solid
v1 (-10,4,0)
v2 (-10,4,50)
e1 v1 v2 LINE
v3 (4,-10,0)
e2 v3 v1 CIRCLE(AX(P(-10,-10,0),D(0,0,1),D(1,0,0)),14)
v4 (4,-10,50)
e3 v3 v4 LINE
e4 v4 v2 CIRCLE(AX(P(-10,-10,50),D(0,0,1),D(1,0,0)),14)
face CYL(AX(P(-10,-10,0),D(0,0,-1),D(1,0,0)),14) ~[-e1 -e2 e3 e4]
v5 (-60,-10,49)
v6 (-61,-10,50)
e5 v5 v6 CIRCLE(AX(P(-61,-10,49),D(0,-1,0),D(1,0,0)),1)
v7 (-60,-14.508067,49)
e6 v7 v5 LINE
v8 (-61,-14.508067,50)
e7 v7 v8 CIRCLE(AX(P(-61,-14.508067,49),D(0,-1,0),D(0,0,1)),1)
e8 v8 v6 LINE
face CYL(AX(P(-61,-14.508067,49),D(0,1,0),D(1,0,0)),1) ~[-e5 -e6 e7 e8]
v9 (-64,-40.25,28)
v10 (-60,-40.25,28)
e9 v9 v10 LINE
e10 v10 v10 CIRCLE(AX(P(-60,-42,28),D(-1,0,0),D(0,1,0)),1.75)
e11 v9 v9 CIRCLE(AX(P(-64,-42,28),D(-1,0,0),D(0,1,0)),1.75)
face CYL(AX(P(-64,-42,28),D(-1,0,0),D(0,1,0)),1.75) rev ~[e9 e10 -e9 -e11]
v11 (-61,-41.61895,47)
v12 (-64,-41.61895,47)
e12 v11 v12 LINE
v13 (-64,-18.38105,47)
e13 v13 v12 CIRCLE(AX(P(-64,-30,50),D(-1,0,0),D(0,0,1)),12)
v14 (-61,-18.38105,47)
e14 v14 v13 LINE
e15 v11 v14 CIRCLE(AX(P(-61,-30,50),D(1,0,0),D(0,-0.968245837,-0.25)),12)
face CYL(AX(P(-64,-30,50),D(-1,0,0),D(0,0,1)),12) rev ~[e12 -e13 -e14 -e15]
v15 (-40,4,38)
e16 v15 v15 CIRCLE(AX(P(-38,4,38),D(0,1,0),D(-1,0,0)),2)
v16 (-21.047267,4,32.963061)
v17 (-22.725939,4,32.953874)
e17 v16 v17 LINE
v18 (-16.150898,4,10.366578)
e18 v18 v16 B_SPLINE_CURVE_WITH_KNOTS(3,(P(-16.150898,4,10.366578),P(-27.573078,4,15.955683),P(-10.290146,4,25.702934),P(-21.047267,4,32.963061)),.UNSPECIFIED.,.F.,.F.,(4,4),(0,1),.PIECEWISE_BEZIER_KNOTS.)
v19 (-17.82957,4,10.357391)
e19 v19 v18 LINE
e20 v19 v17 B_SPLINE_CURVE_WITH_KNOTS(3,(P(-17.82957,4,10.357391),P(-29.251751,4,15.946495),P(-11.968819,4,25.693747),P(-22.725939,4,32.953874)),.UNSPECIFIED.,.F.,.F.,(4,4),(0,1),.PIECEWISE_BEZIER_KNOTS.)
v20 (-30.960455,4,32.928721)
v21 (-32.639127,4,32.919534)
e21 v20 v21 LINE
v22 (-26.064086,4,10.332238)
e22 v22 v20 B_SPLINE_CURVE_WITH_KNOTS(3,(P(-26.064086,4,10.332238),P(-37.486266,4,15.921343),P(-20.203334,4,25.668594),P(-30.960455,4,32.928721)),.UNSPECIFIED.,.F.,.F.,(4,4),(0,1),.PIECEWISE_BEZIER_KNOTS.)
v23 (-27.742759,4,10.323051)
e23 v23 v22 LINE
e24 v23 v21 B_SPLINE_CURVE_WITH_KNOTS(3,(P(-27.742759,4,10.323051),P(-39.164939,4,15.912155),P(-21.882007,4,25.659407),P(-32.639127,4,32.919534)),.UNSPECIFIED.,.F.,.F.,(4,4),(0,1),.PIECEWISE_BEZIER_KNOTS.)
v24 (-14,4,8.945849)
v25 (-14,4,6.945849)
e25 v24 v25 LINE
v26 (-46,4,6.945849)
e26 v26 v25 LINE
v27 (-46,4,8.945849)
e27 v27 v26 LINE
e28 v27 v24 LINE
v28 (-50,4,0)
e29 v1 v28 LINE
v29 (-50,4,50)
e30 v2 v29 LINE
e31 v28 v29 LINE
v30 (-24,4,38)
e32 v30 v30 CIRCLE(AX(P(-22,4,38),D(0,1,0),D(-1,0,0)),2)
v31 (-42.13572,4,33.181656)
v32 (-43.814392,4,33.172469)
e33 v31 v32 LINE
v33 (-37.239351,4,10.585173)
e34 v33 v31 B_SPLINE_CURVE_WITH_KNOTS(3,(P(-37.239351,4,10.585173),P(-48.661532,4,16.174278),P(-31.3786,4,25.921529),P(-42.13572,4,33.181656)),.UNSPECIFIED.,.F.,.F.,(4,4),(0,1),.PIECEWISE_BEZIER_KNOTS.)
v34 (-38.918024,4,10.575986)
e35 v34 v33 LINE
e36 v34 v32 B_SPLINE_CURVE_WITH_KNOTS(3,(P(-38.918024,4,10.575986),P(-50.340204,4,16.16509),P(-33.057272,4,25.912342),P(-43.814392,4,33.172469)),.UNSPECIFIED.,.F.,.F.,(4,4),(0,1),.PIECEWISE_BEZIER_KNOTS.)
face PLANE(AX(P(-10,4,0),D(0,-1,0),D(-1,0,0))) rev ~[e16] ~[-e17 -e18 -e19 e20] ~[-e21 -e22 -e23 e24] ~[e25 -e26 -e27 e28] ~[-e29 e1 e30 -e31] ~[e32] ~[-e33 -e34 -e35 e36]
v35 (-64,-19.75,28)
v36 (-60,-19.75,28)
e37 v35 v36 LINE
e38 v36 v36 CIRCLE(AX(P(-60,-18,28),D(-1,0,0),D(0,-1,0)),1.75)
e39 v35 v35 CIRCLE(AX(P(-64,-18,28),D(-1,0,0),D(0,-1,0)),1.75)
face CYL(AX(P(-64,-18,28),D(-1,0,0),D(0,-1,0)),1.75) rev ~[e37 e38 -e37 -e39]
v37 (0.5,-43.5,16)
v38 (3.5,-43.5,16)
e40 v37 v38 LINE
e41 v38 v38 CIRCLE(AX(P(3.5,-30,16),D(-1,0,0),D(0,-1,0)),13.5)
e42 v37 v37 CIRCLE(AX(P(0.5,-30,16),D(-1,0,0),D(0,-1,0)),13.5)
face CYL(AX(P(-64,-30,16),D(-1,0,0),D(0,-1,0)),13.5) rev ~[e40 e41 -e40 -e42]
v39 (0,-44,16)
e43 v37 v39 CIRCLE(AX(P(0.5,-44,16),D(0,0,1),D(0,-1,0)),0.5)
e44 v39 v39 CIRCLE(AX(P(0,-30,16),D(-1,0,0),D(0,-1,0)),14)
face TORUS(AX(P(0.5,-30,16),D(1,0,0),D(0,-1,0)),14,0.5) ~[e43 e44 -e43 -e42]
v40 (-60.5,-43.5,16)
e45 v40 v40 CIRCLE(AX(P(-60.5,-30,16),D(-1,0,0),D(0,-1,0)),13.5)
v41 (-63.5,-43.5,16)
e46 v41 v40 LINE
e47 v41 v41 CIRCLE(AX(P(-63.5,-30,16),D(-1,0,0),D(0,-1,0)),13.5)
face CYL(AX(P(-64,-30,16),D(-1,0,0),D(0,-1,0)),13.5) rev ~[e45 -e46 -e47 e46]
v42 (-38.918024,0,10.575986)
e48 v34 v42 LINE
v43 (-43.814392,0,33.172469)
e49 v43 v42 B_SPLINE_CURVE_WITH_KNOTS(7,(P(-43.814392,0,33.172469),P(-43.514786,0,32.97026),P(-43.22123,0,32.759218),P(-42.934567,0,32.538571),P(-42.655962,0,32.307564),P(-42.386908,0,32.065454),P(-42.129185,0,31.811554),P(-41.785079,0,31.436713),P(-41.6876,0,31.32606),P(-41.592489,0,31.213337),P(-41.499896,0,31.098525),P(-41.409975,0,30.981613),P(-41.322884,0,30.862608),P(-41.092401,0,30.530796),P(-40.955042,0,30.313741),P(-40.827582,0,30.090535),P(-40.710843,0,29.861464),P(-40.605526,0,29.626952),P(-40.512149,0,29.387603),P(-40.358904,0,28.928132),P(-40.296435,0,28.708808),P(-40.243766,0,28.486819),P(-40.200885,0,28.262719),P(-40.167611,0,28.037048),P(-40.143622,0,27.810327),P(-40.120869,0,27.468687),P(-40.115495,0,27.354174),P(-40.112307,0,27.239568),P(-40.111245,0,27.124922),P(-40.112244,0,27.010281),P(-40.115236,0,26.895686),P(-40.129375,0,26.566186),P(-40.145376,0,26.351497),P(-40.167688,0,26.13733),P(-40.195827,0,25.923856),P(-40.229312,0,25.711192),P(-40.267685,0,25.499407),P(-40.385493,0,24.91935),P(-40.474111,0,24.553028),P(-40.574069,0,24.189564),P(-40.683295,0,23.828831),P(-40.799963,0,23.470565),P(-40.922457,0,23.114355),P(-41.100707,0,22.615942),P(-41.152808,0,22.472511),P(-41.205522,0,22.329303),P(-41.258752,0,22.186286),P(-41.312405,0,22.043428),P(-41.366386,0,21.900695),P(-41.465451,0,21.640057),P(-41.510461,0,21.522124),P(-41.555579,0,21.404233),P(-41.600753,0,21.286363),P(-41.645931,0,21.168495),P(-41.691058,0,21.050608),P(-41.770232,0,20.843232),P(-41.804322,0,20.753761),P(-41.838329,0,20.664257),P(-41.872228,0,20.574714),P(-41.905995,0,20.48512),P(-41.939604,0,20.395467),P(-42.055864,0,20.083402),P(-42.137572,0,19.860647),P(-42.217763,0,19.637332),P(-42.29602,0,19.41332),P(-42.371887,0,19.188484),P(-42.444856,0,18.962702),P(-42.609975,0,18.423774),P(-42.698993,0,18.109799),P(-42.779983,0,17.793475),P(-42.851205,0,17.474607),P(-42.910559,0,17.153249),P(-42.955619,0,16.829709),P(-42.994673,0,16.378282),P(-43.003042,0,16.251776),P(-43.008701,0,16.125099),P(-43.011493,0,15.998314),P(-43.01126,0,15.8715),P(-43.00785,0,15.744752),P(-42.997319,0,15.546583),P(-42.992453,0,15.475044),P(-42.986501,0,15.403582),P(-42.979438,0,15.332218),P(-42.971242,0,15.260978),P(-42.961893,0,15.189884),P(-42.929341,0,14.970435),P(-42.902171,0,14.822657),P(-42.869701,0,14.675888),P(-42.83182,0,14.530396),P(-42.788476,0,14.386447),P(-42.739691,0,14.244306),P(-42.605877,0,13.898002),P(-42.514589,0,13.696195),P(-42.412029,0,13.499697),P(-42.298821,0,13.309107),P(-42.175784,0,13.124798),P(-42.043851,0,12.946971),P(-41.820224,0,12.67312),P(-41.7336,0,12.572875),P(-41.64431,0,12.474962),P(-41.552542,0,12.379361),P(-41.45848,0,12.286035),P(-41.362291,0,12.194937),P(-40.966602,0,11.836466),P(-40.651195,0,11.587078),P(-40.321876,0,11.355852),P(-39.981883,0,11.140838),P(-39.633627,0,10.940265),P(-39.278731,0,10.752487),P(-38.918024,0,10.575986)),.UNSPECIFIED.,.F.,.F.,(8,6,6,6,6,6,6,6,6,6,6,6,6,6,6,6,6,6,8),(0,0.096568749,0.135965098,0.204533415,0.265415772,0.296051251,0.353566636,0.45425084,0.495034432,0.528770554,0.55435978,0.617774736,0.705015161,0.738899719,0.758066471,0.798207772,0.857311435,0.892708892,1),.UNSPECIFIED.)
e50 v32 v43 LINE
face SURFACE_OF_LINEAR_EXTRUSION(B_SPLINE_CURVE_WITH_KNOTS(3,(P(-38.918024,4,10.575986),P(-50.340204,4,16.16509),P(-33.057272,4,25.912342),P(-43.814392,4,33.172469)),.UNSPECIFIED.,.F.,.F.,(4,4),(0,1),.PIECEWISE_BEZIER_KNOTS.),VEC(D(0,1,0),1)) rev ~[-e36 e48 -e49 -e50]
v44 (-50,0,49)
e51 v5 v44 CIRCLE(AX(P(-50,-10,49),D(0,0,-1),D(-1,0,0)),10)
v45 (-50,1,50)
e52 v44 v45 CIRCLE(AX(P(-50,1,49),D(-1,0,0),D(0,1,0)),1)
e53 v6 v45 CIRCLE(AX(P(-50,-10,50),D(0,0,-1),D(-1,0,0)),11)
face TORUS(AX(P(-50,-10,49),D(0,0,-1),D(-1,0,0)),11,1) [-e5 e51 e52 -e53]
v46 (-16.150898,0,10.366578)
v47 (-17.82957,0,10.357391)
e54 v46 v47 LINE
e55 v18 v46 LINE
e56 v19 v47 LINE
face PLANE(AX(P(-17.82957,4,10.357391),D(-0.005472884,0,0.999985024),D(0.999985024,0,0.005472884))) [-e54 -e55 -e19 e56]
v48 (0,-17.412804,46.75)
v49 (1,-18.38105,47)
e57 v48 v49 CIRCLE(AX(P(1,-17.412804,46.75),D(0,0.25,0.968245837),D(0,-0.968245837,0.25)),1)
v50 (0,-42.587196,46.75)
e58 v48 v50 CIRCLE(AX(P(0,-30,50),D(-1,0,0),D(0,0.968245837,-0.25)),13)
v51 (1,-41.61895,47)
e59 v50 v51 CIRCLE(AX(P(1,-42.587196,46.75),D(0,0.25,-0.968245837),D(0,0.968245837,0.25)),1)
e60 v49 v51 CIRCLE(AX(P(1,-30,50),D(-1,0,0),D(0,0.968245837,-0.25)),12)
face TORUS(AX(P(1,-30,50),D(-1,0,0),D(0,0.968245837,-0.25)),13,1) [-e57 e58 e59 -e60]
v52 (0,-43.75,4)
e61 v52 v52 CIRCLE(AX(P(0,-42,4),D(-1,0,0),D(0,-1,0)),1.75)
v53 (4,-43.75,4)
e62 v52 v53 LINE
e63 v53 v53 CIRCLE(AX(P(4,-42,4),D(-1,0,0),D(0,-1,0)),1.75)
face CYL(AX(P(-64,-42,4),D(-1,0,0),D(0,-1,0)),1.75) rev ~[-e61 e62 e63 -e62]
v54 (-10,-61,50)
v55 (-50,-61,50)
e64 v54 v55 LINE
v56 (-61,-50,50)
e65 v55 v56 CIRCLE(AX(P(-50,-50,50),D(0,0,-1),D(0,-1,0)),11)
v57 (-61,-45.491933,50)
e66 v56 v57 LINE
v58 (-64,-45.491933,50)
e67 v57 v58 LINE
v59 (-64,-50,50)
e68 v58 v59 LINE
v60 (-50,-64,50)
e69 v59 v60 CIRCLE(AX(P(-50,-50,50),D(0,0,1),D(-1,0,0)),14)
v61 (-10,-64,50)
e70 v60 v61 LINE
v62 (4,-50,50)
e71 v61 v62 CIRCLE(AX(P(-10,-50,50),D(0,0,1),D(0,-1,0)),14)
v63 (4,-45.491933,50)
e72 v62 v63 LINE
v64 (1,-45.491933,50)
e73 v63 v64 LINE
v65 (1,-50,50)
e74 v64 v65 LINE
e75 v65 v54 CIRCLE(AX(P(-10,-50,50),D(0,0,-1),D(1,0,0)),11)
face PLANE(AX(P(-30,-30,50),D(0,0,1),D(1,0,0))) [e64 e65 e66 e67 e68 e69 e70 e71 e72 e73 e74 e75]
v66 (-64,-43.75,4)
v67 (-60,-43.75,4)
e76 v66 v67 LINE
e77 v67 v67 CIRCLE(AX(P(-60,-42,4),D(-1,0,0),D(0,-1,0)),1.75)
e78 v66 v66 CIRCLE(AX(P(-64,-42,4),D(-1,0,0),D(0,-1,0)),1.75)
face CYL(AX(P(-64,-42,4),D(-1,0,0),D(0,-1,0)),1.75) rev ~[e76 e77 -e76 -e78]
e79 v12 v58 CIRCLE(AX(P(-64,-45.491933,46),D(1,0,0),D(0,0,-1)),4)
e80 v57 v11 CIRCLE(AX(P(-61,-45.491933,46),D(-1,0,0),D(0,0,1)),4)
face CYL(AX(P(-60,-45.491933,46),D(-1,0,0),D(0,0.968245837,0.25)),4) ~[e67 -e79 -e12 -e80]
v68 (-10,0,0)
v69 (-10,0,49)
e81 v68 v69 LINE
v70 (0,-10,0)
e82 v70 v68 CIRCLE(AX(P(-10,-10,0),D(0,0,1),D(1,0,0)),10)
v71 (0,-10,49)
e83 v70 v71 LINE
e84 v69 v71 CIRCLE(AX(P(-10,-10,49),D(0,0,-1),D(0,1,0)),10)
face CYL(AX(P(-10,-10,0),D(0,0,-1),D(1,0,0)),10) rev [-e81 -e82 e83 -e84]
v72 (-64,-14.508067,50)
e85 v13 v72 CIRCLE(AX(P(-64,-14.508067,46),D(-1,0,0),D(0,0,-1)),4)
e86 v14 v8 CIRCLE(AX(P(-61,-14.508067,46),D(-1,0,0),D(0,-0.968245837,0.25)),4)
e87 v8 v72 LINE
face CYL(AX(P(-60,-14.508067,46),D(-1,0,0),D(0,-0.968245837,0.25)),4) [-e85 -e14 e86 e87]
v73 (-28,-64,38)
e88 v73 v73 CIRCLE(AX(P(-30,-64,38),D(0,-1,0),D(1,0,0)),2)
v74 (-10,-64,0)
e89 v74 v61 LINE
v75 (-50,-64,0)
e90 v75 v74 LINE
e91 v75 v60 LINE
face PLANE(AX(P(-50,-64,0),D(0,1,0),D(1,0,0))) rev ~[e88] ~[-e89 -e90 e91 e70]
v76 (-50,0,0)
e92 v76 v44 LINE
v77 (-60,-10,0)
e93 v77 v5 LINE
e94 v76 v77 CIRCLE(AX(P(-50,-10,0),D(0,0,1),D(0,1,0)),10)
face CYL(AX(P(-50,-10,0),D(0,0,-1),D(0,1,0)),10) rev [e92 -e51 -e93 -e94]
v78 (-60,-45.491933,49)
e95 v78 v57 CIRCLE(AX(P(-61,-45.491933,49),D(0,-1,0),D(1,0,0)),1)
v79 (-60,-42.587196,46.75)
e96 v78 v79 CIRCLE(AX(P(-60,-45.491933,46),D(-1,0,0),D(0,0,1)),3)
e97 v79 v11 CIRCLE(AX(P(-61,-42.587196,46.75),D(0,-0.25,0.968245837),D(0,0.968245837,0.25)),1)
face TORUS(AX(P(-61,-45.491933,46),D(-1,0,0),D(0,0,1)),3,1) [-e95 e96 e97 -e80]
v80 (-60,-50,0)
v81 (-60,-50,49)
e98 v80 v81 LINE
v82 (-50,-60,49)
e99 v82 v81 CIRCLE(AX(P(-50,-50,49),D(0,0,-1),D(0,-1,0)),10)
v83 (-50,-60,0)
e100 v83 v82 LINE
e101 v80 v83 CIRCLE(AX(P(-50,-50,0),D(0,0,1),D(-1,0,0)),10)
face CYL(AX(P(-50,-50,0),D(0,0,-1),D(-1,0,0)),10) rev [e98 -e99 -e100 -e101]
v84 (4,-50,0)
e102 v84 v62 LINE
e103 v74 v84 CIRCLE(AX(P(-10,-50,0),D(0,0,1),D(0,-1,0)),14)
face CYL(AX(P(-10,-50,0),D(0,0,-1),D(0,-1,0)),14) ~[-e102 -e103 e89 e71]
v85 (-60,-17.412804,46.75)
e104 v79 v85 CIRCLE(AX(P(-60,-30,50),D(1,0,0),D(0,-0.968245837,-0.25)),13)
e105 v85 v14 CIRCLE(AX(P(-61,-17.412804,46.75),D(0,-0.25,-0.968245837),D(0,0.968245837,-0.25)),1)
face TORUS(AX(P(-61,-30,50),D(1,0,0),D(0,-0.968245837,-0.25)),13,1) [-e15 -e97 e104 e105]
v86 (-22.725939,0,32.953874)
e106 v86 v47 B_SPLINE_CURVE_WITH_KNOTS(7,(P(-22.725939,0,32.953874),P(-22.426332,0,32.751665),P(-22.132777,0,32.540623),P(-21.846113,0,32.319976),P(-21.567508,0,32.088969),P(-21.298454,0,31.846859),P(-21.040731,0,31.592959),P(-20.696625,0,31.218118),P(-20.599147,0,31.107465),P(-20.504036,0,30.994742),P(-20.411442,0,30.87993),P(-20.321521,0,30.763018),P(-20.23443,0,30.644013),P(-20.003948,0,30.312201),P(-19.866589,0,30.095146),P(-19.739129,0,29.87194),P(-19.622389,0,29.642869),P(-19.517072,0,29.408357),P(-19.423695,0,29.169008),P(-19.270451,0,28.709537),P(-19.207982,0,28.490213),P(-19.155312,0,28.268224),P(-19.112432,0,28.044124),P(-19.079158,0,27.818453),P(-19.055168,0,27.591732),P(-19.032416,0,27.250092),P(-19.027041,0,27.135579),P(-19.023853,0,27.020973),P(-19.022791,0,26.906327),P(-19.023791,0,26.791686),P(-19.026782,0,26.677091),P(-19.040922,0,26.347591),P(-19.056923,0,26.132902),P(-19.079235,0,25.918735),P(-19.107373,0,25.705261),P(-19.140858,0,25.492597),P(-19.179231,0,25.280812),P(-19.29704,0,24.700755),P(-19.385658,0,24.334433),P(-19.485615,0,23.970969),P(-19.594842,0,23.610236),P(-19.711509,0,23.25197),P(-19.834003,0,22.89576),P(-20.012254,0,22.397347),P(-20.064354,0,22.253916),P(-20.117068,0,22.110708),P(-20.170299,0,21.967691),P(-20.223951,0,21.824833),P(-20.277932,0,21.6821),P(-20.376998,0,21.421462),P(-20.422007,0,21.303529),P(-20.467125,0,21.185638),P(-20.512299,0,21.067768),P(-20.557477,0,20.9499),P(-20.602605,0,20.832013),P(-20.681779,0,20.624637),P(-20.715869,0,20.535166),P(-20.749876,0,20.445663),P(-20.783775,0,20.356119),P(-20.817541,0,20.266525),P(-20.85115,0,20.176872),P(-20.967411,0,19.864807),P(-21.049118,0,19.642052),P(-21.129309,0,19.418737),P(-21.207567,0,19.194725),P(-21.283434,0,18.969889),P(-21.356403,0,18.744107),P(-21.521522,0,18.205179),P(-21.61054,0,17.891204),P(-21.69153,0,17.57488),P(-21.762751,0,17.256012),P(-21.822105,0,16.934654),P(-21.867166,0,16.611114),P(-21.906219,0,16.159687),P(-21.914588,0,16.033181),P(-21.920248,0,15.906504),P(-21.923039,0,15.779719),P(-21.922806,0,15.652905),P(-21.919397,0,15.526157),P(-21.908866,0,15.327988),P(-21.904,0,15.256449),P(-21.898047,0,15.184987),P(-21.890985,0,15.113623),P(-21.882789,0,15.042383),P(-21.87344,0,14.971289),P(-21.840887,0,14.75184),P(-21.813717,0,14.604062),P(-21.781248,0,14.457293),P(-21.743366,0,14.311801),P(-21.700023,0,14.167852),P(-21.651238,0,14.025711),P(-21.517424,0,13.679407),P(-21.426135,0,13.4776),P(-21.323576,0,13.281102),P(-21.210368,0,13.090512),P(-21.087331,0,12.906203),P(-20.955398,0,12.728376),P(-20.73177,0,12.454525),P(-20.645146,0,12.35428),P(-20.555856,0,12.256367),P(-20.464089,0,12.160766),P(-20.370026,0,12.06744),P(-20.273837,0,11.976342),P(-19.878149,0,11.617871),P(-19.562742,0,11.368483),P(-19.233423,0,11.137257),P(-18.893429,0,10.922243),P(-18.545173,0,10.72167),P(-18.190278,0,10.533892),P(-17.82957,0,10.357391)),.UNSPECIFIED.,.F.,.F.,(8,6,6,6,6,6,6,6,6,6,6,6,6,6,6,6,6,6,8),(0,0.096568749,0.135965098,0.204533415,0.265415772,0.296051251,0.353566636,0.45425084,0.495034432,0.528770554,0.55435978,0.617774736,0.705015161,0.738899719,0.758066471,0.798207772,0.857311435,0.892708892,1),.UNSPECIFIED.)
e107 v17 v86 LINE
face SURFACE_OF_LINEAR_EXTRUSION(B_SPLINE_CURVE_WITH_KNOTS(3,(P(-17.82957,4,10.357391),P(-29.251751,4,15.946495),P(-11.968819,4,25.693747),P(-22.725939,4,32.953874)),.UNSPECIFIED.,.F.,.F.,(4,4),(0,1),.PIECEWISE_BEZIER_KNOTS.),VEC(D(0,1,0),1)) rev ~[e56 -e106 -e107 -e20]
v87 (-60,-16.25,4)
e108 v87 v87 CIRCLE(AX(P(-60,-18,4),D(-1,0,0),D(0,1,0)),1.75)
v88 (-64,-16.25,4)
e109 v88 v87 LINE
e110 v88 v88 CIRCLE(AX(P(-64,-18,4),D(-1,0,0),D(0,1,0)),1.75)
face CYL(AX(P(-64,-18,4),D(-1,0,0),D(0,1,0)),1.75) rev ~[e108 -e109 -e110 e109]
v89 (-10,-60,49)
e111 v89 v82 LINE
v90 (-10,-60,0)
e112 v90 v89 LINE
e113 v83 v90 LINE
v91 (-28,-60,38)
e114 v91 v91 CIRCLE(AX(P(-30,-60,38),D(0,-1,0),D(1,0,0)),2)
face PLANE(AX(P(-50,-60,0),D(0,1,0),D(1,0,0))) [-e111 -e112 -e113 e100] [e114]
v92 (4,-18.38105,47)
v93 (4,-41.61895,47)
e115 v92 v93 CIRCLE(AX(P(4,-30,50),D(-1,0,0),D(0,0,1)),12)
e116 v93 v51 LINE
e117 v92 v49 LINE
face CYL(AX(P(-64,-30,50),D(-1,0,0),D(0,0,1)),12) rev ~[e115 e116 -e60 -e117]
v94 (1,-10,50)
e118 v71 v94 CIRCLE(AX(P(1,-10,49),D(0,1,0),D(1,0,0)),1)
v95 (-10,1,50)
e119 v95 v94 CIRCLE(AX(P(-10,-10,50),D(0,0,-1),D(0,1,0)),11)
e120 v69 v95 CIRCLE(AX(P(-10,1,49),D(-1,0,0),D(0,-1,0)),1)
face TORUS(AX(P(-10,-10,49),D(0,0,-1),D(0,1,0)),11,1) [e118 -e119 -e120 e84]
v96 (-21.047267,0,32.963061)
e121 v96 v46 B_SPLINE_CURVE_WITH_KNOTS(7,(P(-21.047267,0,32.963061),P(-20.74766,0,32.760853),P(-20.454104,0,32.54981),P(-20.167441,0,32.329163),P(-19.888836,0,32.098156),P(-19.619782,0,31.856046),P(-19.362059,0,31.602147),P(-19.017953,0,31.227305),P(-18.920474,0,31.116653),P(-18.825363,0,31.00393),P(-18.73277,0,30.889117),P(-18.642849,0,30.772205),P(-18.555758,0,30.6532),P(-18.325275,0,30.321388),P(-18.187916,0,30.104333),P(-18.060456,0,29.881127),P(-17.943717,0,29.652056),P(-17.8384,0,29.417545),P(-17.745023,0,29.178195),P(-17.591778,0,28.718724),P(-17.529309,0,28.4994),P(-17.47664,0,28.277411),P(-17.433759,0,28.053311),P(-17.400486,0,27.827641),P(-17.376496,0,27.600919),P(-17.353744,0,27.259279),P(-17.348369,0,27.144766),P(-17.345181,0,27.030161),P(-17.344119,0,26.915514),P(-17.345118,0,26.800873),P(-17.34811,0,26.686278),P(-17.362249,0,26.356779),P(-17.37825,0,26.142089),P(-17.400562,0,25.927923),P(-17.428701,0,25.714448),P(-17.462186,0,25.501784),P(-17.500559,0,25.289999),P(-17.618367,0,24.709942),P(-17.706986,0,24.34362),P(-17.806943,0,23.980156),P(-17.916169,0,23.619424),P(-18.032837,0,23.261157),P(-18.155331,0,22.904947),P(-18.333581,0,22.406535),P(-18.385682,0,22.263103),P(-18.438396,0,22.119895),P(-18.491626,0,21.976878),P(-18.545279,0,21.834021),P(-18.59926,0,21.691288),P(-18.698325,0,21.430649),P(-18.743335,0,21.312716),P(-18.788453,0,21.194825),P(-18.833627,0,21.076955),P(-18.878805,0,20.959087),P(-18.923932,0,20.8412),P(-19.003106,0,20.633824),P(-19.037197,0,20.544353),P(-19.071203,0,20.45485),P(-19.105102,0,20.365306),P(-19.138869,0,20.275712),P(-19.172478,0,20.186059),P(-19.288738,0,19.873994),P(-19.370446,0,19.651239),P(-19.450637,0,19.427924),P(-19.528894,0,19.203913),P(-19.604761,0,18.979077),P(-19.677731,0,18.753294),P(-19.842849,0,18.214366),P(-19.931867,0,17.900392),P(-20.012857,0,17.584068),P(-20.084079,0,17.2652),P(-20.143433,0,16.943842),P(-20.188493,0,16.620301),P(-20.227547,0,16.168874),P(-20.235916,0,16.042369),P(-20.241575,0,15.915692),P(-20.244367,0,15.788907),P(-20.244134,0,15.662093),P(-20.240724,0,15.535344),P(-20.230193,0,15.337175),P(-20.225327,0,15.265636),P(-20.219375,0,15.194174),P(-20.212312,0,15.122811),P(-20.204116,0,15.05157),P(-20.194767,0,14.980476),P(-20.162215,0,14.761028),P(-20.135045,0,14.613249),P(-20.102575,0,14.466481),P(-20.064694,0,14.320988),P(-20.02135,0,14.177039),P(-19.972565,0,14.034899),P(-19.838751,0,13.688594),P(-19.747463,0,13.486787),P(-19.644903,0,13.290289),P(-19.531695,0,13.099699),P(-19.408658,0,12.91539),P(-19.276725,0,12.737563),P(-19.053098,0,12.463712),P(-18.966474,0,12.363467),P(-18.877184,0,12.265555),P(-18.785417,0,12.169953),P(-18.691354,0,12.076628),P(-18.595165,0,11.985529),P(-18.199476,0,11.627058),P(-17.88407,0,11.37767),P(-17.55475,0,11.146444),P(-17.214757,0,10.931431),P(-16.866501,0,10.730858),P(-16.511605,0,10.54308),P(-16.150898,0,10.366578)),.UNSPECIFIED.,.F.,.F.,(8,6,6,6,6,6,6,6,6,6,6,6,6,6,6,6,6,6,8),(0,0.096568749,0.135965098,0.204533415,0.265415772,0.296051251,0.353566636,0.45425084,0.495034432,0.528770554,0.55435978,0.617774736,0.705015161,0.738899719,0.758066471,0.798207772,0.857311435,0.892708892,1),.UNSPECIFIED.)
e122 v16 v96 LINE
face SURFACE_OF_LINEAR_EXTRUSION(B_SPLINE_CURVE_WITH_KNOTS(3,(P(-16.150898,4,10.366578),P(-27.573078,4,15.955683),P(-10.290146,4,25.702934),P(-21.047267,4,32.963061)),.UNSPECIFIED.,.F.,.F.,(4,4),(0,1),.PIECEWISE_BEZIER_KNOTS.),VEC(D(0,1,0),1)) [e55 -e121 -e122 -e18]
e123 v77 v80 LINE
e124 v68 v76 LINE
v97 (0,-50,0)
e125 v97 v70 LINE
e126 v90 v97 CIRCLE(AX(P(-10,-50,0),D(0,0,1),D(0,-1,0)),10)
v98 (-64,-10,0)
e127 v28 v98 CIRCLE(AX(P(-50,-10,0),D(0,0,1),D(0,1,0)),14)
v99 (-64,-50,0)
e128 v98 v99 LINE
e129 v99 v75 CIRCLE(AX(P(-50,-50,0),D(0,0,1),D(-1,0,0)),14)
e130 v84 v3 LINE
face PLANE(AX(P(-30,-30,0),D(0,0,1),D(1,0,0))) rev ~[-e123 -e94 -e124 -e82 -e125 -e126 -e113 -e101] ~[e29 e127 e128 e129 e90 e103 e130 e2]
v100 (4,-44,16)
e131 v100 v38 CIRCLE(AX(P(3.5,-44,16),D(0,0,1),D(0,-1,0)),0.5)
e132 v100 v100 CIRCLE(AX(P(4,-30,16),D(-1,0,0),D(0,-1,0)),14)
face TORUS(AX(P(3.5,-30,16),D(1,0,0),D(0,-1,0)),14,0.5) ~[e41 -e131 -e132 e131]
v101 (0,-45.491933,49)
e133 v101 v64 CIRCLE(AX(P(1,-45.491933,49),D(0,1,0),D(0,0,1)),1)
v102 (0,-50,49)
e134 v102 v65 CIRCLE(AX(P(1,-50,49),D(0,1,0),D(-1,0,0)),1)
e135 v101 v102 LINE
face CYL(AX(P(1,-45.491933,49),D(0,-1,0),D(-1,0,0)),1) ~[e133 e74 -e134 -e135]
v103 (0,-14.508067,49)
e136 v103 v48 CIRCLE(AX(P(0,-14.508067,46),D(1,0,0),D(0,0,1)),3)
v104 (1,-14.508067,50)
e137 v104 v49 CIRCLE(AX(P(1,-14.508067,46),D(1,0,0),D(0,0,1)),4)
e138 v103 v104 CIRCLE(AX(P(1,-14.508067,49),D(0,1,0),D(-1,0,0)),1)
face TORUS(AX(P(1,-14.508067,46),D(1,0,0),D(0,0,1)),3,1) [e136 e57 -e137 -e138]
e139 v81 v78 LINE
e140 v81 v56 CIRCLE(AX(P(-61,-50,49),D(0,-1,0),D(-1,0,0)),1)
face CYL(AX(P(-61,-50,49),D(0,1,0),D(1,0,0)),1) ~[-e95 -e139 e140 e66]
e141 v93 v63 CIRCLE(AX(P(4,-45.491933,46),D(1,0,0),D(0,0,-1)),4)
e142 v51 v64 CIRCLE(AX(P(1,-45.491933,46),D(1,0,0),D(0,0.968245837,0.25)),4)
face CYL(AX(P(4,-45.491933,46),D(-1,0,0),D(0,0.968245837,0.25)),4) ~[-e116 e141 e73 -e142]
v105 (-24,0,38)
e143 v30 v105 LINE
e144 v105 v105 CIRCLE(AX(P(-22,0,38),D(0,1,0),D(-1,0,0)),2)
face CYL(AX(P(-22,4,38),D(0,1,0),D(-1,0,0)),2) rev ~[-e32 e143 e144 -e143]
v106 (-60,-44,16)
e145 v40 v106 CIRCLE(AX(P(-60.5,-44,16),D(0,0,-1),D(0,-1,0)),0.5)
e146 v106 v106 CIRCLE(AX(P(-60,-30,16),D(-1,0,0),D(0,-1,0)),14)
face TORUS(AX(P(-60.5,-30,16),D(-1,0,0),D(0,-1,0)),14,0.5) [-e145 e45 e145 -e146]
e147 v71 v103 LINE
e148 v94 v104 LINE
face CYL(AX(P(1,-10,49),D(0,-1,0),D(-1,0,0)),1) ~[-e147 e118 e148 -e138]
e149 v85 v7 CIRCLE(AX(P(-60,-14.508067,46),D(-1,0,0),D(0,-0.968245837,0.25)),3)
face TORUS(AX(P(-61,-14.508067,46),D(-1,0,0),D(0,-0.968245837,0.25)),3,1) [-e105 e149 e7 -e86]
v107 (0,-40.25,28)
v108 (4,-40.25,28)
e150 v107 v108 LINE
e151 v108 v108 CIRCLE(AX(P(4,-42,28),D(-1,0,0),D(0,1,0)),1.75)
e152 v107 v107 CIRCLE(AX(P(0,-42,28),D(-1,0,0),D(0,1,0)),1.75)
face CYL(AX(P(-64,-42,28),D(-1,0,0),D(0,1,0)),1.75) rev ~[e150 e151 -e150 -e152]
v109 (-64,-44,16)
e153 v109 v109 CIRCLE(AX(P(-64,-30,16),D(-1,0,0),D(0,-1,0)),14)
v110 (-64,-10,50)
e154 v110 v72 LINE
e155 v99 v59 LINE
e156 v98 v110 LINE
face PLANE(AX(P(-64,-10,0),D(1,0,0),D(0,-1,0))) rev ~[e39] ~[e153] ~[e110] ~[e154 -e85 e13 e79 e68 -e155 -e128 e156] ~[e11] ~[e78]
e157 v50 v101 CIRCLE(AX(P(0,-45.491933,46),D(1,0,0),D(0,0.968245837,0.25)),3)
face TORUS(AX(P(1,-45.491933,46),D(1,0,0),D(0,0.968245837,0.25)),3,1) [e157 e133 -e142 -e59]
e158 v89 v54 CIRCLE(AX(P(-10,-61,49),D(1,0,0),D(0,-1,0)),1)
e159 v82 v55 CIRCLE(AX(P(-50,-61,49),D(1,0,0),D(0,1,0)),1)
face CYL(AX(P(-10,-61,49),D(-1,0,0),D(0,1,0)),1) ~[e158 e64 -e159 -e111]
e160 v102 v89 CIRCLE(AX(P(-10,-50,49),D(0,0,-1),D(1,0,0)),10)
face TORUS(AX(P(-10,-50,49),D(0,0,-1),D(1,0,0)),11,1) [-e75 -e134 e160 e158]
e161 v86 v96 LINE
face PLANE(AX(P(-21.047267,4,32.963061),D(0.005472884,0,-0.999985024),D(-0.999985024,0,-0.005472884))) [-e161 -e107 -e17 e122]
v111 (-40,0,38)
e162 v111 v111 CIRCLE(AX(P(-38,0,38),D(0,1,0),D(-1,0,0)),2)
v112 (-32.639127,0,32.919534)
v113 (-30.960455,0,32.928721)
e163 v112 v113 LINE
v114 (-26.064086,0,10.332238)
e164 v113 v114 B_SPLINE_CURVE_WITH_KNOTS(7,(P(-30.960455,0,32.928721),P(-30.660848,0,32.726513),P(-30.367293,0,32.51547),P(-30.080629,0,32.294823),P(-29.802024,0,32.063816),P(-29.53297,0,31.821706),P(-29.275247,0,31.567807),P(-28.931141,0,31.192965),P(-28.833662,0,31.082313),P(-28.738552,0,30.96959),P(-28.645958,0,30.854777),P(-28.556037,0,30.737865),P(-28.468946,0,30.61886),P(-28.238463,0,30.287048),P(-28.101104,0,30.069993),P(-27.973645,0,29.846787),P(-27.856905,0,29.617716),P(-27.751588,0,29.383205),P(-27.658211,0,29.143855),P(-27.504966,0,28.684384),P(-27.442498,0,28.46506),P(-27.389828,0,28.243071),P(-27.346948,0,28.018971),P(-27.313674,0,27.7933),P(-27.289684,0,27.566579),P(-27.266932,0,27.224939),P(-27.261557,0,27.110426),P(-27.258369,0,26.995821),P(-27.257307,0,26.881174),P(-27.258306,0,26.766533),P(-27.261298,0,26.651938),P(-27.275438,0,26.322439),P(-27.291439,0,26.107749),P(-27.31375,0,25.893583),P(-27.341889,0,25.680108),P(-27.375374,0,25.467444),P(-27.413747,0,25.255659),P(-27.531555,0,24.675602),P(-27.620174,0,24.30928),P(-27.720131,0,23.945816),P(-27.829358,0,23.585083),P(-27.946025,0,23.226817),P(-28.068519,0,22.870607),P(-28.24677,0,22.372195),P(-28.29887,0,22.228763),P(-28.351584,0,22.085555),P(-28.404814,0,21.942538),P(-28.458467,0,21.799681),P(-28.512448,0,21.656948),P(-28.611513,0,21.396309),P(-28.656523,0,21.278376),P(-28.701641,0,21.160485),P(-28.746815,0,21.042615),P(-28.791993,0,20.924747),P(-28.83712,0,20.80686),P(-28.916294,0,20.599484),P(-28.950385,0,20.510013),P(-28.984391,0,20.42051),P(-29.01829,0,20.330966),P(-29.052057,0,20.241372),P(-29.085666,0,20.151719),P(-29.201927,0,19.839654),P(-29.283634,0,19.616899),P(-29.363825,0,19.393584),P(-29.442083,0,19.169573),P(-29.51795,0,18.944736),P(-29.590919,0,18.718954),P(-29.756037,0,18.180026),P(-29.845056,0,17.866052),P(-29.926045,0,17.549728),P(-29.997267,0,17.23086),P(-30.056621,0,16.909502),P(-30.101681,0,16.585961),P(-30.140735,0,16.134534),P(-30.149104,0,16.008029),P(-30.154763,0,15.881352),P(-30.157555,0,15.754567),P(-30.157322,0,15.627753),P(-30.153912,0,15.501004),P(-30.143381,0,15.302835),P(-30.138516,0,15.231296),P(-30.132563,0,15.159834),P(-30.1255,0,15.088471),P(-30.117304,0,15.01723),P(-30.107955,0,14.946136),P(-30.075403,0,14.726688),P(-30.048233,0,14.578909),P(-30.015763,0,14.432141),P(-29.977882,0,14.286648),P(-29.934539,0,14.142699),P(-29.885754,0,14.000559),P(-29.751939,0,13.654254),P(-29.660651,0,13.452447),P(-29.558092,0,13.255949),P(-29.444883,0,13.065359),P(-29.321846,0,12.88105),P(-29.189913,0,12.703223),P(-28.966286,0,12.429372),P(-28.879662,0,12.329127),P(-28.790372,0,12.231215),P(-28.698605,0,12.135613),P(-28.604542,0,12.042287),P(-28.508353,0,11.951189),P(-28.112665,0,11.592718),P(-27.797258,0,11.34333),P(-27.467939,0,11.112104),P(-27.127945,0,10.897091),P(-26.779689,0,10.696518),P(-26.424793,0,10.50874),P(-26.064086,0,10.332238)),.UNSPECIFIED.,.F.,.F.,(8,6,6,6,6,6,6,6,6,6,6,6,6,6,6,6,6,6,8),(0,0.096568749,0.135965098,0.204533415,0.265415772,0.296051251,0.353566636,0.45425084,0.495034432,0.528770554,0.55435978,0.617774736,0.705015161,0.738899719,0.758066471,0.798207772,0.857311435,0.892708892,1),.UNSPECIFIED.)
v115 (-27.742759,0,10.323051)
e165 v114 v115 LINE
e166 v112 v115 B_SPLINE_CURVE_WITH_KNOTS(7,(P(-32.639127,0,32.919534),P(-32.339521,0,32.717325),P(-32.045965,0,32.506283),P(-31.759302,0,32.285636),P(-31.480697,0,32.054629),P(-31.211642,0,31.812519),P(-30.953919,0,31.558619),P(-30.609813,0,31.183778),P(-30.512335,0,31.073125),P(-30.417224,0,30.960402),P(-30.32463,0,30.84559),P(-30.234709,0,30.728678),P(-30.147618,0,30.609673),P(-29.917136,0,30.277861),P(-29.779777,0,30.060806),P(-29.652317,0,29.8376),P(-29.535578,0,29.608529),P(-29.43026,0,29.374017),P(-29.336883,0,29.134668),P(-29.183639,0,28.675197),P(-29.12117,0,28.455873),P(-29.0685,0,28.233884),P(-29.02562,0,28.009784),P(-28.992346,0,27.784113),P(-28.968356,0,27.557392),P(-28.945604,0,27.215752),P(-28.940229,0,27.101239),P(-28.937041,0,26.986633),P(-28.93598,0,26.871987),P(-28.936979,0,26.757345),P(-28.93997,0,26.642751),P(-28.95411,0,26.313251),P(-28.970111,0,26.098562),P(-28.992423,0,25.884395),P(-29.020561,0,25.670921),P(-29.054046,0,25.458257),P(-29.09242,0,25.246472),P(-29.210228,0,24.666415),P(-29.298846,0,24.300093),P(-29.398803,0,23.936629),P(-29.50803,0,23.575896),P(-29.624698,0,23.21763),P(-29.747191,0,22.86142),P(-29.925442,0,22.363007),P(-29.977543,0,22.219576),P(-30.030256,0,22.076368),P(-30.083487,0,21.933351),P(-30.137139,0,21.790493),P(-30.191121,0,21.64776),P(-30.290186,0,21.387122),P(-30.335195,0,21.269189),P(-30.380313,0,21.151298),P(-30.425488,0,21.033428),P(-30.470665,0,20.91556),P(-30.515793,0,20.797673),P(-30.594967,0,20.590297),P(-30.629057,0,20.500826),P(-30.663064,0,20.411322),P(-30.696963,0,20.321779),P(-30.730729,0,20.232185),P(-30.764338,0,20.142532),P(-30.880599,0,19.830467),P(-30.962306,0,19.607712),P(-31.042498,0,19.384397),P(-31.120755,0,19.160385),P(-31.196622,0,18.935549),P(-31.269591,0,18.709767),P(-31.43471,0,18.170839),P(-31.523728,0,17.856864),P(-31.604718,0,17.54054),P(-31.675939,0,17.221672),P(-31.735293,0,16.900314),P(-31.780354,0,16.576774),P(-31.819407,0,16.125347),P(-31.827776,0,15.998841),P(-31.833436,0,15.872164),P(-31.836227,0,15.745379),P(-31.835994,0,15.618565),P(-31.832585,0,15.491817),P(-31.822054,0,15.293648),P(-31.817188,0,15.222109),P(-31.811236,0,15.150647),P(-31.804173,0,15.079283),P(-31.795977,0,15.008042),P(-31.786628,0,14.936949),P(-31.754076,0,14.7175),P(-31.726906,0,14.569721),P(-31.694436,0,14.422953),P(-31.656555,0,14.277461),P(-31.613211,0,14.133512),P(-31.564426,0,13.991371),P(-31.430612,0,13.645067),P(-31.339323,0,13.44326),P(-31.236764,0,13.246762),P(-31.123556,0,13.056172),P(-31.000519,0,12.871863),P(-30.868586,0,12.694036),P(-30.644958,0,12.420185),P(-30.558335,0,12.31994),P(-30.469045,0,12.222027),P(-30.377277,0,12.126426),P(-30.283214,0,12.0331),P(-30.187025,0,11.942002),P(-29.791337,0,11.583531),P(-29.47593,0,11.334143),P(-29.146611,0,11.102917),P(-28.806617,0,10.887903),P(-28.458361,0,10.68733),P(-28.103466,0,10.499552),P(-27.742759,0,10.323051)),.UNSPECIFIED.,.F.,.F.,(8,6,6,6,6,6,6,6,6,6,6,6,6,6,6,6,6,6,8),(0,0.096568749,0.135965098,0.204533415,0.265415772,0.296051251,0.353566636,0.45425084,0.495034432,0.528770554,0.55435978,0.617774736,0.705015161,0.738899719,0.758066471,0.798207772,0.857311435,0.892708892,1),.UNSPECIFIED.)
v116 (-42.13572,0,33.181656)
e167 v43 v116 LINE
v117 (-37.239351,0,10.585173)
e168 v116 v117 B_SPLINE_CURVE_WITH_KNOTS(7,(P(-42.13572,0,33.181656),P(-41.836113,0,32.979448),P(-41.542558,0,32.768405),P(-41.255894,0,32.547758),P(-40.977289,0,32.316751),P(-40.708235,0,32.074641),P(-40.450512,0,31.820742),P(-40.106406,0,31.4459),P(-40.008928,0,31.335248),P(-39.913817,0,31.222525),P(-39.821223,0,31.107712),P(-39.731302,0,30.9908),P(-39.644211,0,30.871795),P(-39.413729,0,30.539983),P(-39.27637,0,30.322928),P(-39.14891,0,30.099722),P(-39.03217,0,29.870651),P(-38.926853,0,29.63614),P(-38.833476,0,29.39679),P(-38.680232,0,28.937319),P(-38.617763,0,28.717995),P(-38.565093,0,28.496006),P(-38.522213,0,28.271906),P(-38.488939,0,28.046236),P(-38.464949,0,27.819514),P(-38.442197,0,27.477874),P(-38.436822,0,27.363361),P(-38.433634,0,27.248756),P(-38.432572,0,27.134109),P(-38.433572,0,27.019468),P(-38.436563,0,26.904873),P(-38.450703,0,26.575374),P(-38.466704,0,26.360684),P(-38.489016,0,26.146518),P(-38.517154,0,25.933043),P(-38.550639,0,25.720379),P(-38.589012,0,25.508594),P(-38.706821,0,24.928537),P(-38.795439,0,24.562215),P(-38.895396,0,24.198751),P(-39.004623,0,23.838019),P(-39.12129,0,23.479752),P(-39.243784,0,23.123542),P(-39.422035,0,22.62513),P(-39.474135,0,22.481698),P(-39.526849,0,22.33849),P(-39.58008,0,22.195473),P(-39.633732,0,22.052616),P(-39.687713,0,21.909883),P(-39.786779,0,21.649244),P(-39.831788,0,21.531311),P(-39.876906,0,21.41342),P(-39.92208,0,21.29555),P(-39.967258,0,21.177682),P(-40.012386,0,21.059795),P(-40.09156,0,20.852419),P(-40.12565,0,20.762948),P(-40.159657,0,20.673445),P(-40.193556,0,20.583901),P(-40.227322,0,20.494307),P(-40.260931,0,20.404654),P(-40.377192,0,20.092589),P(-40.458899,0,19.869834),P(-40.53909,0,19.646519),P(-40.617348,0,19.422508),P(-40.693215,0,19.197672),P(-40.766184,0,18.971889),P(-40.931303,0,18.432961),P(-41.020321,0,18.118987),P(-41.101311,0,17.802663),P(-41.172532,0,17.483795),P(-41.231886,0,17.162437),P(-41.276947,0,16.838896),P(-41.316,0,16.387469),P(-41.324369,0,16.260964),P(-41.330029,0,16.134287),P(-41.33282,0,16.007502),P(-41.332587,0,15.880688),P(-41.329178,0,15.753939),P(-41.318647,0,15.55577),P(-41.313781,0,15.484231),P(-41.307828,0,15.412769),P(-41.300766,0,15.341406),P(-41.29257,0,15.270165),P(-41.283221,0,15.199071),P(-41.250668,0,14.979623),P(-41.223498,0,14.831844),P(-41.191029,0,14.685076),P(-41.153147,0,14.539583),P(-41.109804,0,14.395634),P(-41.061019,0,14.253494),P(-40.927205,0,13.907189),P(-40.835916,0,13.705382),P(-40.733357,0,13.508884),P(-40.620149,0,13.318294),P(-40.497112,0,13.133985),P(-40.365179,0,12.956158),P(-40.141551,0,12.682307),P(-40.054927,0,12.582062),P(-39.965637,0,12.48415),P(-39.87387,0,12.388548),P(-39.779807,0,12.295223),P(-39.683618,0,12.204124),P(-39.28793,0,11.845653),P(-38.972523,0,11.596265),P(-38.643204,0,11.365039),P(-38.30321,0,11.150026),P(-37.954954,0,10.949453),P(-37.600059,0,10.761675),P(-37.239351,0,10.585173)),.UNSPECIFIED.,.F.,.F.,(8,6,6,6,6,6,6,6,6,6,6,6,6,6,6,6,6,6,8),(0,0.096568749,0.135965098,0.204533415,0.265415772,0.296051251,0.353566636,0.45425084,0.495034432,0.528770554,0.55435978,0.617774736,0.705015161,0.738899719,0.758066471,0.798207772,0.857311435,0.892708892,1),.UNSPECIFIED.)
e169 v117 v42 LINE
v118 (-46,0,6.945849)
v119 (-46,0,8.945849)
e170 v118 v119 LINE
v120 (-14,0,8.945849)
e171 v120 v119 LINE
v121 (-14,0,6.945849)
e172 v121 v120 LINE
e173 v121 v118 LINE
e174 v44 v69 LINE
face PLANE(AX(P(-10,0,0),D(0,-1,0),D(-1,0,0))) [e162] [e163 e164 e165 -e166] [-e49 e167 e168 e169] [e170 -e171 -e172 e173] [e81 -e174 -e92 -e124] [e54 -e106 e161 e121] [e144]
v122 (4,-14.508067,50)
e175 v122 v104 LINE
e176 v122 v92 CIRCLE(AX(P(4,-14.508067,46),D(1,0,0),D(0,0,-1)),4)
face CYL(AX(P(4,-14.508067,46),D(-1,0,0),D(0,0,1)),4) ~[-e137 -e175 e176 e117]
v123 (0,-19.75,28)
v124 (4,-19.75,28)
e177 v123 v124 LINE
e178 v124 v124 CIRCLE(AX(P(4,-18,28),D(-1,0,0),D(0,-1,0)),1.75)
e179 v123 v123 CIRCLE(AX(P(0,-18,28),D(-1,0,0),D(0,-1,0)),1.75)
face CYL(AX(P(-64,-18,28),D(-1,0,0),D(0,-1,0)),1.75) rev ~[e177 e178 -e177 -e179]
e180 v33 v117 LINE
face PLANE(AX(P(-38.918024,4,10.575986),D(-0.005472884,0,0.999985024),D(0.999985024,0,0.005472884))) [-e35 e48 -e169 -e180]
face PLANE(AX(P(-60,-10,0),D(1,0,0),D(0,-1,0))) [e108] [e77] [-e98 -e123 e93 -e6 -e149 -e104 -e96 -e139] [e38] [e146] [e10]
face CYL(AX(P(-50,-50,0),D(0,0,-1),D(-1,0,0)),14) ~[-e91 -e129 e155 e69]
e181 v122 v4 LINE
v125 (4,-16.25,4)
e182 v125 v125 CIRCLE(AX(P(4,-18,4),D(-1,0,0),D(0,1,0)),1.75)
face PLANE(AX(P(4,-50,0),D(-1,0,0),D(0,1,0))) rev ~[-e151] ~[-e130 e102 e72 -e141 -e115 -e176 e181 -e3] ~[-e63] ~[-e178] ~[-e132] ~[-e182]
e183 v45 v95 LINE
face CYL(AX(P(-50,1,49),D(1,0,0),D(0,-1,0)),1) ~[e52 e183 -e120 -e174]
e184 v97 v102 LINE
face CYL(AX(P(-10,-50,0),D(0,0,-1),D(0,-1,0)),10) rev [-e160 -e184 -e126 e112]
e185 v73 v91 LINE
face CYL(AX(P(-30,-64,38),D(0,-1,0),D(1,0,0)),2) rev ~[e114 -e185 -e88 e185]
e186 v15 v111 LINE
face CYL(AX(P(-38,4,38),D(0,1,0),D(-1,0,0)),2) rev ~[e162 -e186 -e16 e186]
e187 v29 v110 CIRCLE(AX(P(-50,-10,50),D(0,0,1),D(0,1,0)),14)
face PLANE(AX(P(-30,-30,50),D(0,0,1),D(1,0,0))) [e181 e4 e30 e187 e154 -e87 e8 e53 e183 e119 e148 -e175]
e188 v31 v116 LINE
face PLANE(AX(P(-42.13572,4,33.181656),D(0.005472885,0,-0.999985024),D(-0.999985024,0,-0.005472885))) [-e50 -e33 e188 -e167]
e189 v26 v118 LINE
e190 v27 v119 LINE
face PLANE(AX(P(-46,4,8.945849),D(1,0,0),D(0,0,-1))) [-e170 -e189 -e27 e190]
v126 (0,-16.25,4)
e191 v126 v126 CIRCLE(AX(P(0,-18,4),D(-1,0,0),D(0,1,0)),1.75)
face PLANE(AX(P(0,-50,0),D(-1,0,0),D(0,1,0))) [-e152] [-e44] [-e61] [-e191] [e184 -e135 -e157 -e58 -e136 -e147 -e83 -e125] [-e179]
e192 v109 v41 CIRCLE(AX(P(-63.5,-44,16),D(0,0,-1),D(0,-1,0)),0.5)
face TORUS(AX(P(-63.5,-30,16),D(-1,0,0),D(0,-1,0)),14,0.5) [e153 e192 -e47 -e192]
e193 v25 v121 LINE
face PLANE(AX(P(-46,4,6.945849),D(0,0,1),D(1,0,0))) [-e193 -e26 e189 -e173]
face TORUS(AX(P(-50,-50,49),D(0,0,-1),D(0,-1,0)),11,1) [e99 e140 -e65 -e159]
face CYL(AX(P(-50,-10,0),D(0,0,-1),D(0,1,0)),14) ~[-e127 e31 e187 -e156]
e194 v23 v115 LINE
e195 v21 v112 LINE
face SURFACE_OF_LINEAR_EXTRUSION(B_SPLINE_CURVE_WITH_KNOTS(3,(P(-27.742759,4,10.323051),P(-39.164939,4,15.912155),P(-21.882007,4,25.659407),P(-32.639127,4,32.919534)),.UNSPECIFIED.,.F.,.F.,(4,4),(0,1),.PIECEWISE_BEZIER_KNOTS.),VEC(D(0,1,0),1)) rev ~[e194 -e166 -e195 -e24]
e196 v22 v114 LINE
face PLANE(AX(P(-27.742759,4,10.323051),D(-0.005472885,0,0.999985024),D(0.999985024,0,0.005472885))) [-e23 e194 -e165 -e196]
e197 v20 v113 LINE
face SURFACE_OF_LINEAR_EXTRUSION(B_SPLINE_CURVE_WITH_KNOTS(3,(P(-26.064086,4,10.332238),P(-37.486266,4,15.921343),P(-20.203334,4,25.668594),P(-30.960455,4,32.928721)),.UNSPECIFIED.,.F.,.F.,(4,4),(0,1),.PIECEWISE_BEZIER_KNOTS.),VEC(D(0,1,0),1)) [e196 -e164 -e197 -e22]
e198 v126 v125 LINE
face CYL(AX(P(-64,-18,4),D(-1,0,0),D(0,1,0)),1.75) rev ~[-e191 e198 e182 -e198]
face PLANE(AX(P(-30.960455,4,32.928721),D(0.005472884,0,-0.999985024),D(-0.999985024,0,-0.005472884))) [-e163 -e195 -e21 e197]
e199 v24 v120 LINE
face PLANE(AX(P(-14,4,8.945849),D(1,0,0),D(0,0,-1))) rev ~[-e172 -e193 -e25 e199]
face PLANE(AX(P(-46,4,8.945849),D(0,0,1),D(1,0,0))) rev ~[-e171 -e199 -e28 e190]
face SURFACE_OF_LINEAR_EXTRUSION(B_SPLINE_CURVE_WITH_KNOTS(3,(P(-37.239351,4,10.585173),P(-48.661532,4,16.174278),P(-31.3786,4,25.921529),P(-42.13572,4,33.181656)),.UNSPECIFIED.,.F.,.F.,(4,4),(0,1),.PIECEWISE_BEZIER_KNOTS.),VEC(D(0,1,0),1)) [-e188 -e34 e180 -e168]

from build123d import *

# Parameters (mm, degrees)
ESTRUSIONE_SOTTILE1_DEPTH = 50
SCHIZZO2_R                = 2
TAGLIO_ESTRUSIONE1_DEPTH  = 10
SCHIZZO3_R                = 12
TAGLIO_ESTRUSIONE2_DEPTH  = 68
RACCORDO1_R               = 4
RACCORDO2_R               = 4
RACCORDO3_R               = 4
RACCORDO4_R               = 4
SCHIZZO4_R                = 2
TAGLIO_ESTRUSIONE3_DEPTH  = 10
SCHIZZO5_W                = 32
SCHIZZO5_H                = 2
TAGLIO_ESTRUSIONE4_DEPTH  = 10
TAGLIO_ESTRUSIONE5_REACH  = 107.925
SCHIZZO7_R                = 1.75
TAGLIO_ESTRUSIONE6_REACH  = 107.925
SCHIZZO8_R                = 13.5
RACCORDO5_R               = 0.5
RACCORDO6_R               = 0.5
RACCORDO7_R               = 0.5
RACCORDO8_R               = 0.5
RACCORDO9_R               = 1


with BuildPart() as part:
    # Schizzo1 → Estrusione-Sottile1 (new body)
    with BuildSketch(Plane.XY):
        with BuildLine():
            Line((-64, -10), (-64, -50))
            ThreePointArc((-64, -50), (-59.899494937, -59.899494937), (-50, -64))
            Line((-50, -64), (-10, -64))
            ThreePointArc((-10, -64), (-0.100505063, -59.899494937), (4, -50))
            Line((4, -50), (4, -10))
            ThreePointArc((4, -10), (-0.100505063, -0.100505063), (-10, 4))
            Line((-10, 4), (-50, 4))
            ThreePointArc((-50, 4), (-59.899494937, -0.100505063), (-64, -10))
        make_face()
        with BuildLine():
            Line((-60, -10), (-60, -50))
            ThreePointArc((-60, -50), (-57.071067812, -57.071067812), (-50, -60))
            Line((-50, -60), (-10, -60))
            ThreePointArc((-10, -60), (-2.928932188, -57.071067812), (0, -50))
            Line((0, -50), (0, -10))
            ThreePointArc((0, -10), (-2.928932188, -2.928932188), (-10, 0))
            Line((-10, 0), (-50, 0))
            ThreePointArc((-50, 0), (-57.071067812, -2.928932188), (-60, -10))
        make_face(mode=Mode.SUBTRACT)
    extrude(amount=ESTRUSIONE_SOTTILE1_DEPTH)

    # Schizzo2 → Taglio-Estrusione1 (cut)
    with BuildSketch(Plane(origin=(0, 4, 0), x_dir=(1, 0, 0), z_dir=(0, 1, 0))):
        with Locations(Location((-38, -38, 0), (0, 0, 180))):
            Circle(SCHIZZO2_R)
        with Locations(Location((-22, -38, 0), (0, 0, 180))):
            Circle(SCHIZZO2_R)
    extrude(amount=-TAGLIO_ESTRUSIONE1_DEPTH, mode=Mode.SUBTRACT)

    # Schizzo3 → Taglio-Estrusione2 (cut)
    with BuildSketch(Plane.ZY.offset(64)):
        with Locations((50, -30)):
            Circle(SCHIZZO3_R)
    extrude(amount=-TAGLIO_ESTRUSIONE2_DEPTH, mode=Mode.SUBTRACT)

    # Raccordo1
    raccordo1_edges = [part.edges().sort_by_distance(p)[0] for p in [
        (-62, -18, 50),
    ]]
    fillet(raccordo1_edges, radius=RACCORDO1_R)

    # Raccordo2
    raccordo2_edges = [part.edges().sort_by_distance(p)[0] for p in [
        (-62, -42, 50),
    ]]
    fillet(raccordo2_edges, radius=RACCORDO2_R)

    # Raccordo3
    raccordo3_edges = [part.edges().sort_by_distance(p)[0] for p in [
        (2, -18, 50),
    ]]
    fillet(raccordo3_edges, radius=RACCORDO3_R)

    # Raccordo4
    raccordo4_edges = [part.edges().sort_by_distance(p)[0] for p in [
        (2, -42, 50),
    ]]
    fillet(raccordo4_edges, radius=RACCORDO4_R)

    # Schizzo4 → Taglio-Estrusione3 (cut)
    with BuildSketch(Plane.XZ.offset(64)):
        with Locations((-30, 38)):
            Circle(SCHIZZO4_R)
    extrude(amount=-TAGLIO_ESTRUSIONE3_DEPTH, mode=Mode.SUBTRACT)

    # Schizzo5 → Taglio-Estrusione4 (cut)
    with BuildSketch(Plane(origin=(0, 4, 0), x_dir=(1, 0, 0), z_dir=(0, 1, 0))):
        with Locations((-30, -7.945849316)):
            Rectangle(SCHIZZO5_W, SCHIZZO5_H)
        with BuildLine():
            Line((-30.960454742, -32.928721256), (-32.639127219, -32.919533938))
            add(Edge.make_bspline(
                [(-27.742758505, -10.323050859), (-39.164938897, -15.912155443), (-21.882006837, -25.659406976), (-32.639127219, -32.919533938)],
                knots=[0, 0, 0, 0, 1, 1, 1, 1], degree=3))
            Line((-27.742758505, -10.323050859), (-26.064086029, -10.332238178))
            add(Edge.make_bspline(
                [(-26.064086029, -10.332238178), (-37.486266421, -15.921342761), (-20.203334361, -25.668594294), (-30.960454742, -32.928721256)],
                knots=[0, 0, 0, 0, 1, 1, 1, 1], degree=3))
        make_face()
        with BuildLine():
            Line((-42.135720019, -33.181656302), (-43.814392495, -33.172468983))
            add(Edge.make_bspline(
                [(-38.918023781, -10.575985905), (-50.340204173, -16.165090488), (-33.057272113, -25.912342021), (-43.814392495, -33.172468983)],
                knots=[0, 0, 0, 0, 1, 1, 1, 1], degree=3))
            Line((-38.918023781, -10.575985905), (-37.239351305, -10.585173223))
            add(Edge.make_bspline(
                [(-37.239351305, -10.585173223), (-48.661531697, -16.174277806), (-31.378599637, -25.921529339), (-42.135720019, -33.181656302)],
                knots=[0, 0, 0, 0, 1, 1, 1, 1], degree=3))
        make_face()
        with BuildLine():
            Line((-21.047266541, -32.963061307), (-22.725939017, -32.953873989))
            add(Edge.make_bspline(
                [(-17.829570303, -10.35739091), (-29.251750695, -15.946495494), (-11.968818635, -25.693747027), (-22.725939017, -32.953873989)],
                knots=[0, 0, 0, 0, 1, 1, 1, 1], degree=3))
            Line((-17.829570303, -10.35739091), (-16.150897827, -10.366578228))
            add(Edge.make_bspline(
                [(-16.150897827, -10.366578228), (-27.573078219, -15.955682812), (-10.290146159, -25.702934345), (-21.047266541, -32.963061307)],
                knots=[0, 0, 0, 0, 1, 1, 1, 1], degree=3))
        make_face()
    extrude(amount=-TAGLIO_ESTRUSIONE4_DEPTH, mode=Mode.SUBTRACT)

    # Taglio-Estrusione5: up to this face of the body (flat: up to its plane)
    taglio_estrusione5_end = Plane(part.part.faces().sort_by_distance((4, -30, 22.393243333))[0])
    # Schizzo7 → Taglio-Estrusione5 (cut, up to the picked face)
    with BuildSketch(Plane.ZY.offset(64), mode=Mode.PRIVATE) as taglio_estrusione5_sk1:
        with Locations(Location((28, -18, 0), (0, 0, 270))):
            Circle(SCHIZZO7_R)
    taglio_estrusione5_tool1 = split(extrude(taglio_estrusione5_sk1.sketch, amount=-TAGLIO_ESTRUSIONE5_REACH, mode=Mode.PRIVATE), bisect_by=taglio_estrusione5_end, keep=Keep.BOTH, mode=Mode.PRIVATE)
    # Schizzo7 → Taglio-Estrusione5 (cut, up to the picked face)
    with BuildSketch(Plane.ZY.offset(64), mode=Mode.PRIVATE) as taglio_estrusione5_sk2:
        with Locations(Location((28, -42, 0), (0, 0, 90))):
            Circle(SCHIZZO7_R)
    taglio_estrusione5_tool2 = split(extrude(taglio_estrusione5_sk2.sketch, amount=-TAGLIO_ESTRUSIONE5_REACH, mode=Mode.PRIVATE), bisect_by=taglio_estrusione5_end, keep=Keep.BOTH, mode=Mode.PRIVATE)
    # Schizzo7 → Taglio-Estrusione5 (cut, up to the picked face)
    with BuildSketch(Plane.ZY.offset(64), mode=Mode.PRIVATE) as taglio_estrusione5_sk3:
        with Locations(Location((4, -42, 0), (0, 0, 270))):
            Circle(SCHIZZO7_R)
    taglio_estrusione5_tool3 = split(extrude(taglio_estrusione5_sk3.sketch, amount=-TAGLIO_ESTRUSIONE5_REACH, mode=Mode.PRIVATE), bisect_by=taglio_estrusione5_end, keep=Keep.BOTH, mode=Mode.PRIVATE)
    # Schizzo7 → Taglio-Estrusione5 (cut, up to the picked face)
    with BuildSketch(Plane.ZY.offset(64), mode=Mode.PRIVATE) as taglio_estrusione5_sk4:
        with Locations(Location((4, -18, 0), (0, 0, 90))):
            Circle(SCHIZZO7_R)
    taglio_estrusione5_tool4 = split(extrude(taglio_estrusione5_sk4.sketch, amount=-TAGLIO_ESTRUSIONE5_REACH, mode=Mode.PRIVATE), bisect_by=taglio_estrusione5_end, keep=Keep.BOTH, mode=Mode.PRIVATE)
    add(taglio_estrusione5_tool1.solids().sort_by(Axis((-64, -18, 28), (1, 0, 0)))[0], mode=Mode.SUBTRACT)
    add(taglio_estrusione5_tool2.solids().sort_by(Axis((-64, -42, 28), (1, 0, 0)))[0], mode=Mode.SUBTRACT)
    add(taglio_estrusione5_tool3.solids().sort_by(Axis((-64, -42, 4), (1, 0, 0)))[0], mode=Mode.SUBTRACT)
    add(taglio_estrusione5_tool4.solids().sort_by(Axis((-64, -18, 4), (1, 0, 0)))[0], mode=Mode.SUBTRACT)

    # Taglio-Estrusione6: up to this face of the body (flat: up to its plane)
    taglio_estrusione6_end = Plane(part.part.faces().sort_by_distance((4, -30, 22.53539536))[0])
    # Schizzo8 → Taglio-Estrusione6 (cut, up to the picked face)
    with BuildSketch(Plane.ZY.offset(64), mode=Mode.PRIVATE) as taglio_estrusione6_sk1:
        with Locations(Location((16, -30, 0), (0, 0, 270))):
            Circle(SCHIZZO8_R)
    taglio_estrusione6_tool1 = split(extrude(taglio_estrusione6_sk1.sketch, amount=-TAGLIO_ESTRUSIONE6_REACH, mode=Mode.PRIVATE), bisect_by=taglio_estrusione6_end, keep=Keep.BOTH, mode=Mode.PRIVATE)
    add(taglio_estrusione6_tool1.solids().sort_by(Axis((-64, -30, 16), (1, 0, 0)))[0], mode=Mode.SUBTRACT)

    # Raccordo5
    raccordo5_edges = [part.edges().sort_by_distance(p)[0] for p in [
        (-64, -16.5, 16),
    ]]
    fillet(raccordo5_edges, radius=RACCORDO5_R)

    # Raccordo6
    raccordo6_edges = [part.edges().sort_by_distance(p)[0] for p in [
        (-60, -16.5, 16),
    ]]
    fillet(raccordo6_edges, radius=RACCORDO6_R)

    # Raccordo7
    raccordo7_edges = [part.edges().sort_by_distance(p)[0] for p in [
        (4, -16.5, 16),
    ]]
    fillet(raccordo7_edges, radius=RACCORDO7_R)

    # Raccordo8
    raccordo8_edges = [part.edges().sort_by_distance(p)[0] for p in [
        (0, -16.5, 16),
    ]]
    fillet(raccordo8_edges, radius=RACCORDO8_R)

    # Raccordo9
    raccordo9_edges = [part.edges().sort_by_distance(p)[0] for p in [
        (0, -43.042443642, 49.16227766),
        (-2.928932188, -57.071067812, 50),
        (0, -47.745966692, 50),
        (-2.928932188, -2.928932188, 50),
        (-30, 0, 50),
        (-57.071067812, -2.928932188, 50),
        (-60, -12.254033308, 50),
        (-57.071067812, -57.071067812, 50),
        (-30, -60, 50),
        (-60, -16.957556358, 49.16227766),
        (-60, -30, 38),
        (-60, -47.745966692, 50),
        (-60, -43.042443642, 49.16227766),
        (0, -30, 38),
        (0, -12.254033308, 50),
        (0, -16.957556358, 49.16227766),
    ]]
    fillet(raccordo9_edges, radius=RACCORDO9_R)


solid = part.part
